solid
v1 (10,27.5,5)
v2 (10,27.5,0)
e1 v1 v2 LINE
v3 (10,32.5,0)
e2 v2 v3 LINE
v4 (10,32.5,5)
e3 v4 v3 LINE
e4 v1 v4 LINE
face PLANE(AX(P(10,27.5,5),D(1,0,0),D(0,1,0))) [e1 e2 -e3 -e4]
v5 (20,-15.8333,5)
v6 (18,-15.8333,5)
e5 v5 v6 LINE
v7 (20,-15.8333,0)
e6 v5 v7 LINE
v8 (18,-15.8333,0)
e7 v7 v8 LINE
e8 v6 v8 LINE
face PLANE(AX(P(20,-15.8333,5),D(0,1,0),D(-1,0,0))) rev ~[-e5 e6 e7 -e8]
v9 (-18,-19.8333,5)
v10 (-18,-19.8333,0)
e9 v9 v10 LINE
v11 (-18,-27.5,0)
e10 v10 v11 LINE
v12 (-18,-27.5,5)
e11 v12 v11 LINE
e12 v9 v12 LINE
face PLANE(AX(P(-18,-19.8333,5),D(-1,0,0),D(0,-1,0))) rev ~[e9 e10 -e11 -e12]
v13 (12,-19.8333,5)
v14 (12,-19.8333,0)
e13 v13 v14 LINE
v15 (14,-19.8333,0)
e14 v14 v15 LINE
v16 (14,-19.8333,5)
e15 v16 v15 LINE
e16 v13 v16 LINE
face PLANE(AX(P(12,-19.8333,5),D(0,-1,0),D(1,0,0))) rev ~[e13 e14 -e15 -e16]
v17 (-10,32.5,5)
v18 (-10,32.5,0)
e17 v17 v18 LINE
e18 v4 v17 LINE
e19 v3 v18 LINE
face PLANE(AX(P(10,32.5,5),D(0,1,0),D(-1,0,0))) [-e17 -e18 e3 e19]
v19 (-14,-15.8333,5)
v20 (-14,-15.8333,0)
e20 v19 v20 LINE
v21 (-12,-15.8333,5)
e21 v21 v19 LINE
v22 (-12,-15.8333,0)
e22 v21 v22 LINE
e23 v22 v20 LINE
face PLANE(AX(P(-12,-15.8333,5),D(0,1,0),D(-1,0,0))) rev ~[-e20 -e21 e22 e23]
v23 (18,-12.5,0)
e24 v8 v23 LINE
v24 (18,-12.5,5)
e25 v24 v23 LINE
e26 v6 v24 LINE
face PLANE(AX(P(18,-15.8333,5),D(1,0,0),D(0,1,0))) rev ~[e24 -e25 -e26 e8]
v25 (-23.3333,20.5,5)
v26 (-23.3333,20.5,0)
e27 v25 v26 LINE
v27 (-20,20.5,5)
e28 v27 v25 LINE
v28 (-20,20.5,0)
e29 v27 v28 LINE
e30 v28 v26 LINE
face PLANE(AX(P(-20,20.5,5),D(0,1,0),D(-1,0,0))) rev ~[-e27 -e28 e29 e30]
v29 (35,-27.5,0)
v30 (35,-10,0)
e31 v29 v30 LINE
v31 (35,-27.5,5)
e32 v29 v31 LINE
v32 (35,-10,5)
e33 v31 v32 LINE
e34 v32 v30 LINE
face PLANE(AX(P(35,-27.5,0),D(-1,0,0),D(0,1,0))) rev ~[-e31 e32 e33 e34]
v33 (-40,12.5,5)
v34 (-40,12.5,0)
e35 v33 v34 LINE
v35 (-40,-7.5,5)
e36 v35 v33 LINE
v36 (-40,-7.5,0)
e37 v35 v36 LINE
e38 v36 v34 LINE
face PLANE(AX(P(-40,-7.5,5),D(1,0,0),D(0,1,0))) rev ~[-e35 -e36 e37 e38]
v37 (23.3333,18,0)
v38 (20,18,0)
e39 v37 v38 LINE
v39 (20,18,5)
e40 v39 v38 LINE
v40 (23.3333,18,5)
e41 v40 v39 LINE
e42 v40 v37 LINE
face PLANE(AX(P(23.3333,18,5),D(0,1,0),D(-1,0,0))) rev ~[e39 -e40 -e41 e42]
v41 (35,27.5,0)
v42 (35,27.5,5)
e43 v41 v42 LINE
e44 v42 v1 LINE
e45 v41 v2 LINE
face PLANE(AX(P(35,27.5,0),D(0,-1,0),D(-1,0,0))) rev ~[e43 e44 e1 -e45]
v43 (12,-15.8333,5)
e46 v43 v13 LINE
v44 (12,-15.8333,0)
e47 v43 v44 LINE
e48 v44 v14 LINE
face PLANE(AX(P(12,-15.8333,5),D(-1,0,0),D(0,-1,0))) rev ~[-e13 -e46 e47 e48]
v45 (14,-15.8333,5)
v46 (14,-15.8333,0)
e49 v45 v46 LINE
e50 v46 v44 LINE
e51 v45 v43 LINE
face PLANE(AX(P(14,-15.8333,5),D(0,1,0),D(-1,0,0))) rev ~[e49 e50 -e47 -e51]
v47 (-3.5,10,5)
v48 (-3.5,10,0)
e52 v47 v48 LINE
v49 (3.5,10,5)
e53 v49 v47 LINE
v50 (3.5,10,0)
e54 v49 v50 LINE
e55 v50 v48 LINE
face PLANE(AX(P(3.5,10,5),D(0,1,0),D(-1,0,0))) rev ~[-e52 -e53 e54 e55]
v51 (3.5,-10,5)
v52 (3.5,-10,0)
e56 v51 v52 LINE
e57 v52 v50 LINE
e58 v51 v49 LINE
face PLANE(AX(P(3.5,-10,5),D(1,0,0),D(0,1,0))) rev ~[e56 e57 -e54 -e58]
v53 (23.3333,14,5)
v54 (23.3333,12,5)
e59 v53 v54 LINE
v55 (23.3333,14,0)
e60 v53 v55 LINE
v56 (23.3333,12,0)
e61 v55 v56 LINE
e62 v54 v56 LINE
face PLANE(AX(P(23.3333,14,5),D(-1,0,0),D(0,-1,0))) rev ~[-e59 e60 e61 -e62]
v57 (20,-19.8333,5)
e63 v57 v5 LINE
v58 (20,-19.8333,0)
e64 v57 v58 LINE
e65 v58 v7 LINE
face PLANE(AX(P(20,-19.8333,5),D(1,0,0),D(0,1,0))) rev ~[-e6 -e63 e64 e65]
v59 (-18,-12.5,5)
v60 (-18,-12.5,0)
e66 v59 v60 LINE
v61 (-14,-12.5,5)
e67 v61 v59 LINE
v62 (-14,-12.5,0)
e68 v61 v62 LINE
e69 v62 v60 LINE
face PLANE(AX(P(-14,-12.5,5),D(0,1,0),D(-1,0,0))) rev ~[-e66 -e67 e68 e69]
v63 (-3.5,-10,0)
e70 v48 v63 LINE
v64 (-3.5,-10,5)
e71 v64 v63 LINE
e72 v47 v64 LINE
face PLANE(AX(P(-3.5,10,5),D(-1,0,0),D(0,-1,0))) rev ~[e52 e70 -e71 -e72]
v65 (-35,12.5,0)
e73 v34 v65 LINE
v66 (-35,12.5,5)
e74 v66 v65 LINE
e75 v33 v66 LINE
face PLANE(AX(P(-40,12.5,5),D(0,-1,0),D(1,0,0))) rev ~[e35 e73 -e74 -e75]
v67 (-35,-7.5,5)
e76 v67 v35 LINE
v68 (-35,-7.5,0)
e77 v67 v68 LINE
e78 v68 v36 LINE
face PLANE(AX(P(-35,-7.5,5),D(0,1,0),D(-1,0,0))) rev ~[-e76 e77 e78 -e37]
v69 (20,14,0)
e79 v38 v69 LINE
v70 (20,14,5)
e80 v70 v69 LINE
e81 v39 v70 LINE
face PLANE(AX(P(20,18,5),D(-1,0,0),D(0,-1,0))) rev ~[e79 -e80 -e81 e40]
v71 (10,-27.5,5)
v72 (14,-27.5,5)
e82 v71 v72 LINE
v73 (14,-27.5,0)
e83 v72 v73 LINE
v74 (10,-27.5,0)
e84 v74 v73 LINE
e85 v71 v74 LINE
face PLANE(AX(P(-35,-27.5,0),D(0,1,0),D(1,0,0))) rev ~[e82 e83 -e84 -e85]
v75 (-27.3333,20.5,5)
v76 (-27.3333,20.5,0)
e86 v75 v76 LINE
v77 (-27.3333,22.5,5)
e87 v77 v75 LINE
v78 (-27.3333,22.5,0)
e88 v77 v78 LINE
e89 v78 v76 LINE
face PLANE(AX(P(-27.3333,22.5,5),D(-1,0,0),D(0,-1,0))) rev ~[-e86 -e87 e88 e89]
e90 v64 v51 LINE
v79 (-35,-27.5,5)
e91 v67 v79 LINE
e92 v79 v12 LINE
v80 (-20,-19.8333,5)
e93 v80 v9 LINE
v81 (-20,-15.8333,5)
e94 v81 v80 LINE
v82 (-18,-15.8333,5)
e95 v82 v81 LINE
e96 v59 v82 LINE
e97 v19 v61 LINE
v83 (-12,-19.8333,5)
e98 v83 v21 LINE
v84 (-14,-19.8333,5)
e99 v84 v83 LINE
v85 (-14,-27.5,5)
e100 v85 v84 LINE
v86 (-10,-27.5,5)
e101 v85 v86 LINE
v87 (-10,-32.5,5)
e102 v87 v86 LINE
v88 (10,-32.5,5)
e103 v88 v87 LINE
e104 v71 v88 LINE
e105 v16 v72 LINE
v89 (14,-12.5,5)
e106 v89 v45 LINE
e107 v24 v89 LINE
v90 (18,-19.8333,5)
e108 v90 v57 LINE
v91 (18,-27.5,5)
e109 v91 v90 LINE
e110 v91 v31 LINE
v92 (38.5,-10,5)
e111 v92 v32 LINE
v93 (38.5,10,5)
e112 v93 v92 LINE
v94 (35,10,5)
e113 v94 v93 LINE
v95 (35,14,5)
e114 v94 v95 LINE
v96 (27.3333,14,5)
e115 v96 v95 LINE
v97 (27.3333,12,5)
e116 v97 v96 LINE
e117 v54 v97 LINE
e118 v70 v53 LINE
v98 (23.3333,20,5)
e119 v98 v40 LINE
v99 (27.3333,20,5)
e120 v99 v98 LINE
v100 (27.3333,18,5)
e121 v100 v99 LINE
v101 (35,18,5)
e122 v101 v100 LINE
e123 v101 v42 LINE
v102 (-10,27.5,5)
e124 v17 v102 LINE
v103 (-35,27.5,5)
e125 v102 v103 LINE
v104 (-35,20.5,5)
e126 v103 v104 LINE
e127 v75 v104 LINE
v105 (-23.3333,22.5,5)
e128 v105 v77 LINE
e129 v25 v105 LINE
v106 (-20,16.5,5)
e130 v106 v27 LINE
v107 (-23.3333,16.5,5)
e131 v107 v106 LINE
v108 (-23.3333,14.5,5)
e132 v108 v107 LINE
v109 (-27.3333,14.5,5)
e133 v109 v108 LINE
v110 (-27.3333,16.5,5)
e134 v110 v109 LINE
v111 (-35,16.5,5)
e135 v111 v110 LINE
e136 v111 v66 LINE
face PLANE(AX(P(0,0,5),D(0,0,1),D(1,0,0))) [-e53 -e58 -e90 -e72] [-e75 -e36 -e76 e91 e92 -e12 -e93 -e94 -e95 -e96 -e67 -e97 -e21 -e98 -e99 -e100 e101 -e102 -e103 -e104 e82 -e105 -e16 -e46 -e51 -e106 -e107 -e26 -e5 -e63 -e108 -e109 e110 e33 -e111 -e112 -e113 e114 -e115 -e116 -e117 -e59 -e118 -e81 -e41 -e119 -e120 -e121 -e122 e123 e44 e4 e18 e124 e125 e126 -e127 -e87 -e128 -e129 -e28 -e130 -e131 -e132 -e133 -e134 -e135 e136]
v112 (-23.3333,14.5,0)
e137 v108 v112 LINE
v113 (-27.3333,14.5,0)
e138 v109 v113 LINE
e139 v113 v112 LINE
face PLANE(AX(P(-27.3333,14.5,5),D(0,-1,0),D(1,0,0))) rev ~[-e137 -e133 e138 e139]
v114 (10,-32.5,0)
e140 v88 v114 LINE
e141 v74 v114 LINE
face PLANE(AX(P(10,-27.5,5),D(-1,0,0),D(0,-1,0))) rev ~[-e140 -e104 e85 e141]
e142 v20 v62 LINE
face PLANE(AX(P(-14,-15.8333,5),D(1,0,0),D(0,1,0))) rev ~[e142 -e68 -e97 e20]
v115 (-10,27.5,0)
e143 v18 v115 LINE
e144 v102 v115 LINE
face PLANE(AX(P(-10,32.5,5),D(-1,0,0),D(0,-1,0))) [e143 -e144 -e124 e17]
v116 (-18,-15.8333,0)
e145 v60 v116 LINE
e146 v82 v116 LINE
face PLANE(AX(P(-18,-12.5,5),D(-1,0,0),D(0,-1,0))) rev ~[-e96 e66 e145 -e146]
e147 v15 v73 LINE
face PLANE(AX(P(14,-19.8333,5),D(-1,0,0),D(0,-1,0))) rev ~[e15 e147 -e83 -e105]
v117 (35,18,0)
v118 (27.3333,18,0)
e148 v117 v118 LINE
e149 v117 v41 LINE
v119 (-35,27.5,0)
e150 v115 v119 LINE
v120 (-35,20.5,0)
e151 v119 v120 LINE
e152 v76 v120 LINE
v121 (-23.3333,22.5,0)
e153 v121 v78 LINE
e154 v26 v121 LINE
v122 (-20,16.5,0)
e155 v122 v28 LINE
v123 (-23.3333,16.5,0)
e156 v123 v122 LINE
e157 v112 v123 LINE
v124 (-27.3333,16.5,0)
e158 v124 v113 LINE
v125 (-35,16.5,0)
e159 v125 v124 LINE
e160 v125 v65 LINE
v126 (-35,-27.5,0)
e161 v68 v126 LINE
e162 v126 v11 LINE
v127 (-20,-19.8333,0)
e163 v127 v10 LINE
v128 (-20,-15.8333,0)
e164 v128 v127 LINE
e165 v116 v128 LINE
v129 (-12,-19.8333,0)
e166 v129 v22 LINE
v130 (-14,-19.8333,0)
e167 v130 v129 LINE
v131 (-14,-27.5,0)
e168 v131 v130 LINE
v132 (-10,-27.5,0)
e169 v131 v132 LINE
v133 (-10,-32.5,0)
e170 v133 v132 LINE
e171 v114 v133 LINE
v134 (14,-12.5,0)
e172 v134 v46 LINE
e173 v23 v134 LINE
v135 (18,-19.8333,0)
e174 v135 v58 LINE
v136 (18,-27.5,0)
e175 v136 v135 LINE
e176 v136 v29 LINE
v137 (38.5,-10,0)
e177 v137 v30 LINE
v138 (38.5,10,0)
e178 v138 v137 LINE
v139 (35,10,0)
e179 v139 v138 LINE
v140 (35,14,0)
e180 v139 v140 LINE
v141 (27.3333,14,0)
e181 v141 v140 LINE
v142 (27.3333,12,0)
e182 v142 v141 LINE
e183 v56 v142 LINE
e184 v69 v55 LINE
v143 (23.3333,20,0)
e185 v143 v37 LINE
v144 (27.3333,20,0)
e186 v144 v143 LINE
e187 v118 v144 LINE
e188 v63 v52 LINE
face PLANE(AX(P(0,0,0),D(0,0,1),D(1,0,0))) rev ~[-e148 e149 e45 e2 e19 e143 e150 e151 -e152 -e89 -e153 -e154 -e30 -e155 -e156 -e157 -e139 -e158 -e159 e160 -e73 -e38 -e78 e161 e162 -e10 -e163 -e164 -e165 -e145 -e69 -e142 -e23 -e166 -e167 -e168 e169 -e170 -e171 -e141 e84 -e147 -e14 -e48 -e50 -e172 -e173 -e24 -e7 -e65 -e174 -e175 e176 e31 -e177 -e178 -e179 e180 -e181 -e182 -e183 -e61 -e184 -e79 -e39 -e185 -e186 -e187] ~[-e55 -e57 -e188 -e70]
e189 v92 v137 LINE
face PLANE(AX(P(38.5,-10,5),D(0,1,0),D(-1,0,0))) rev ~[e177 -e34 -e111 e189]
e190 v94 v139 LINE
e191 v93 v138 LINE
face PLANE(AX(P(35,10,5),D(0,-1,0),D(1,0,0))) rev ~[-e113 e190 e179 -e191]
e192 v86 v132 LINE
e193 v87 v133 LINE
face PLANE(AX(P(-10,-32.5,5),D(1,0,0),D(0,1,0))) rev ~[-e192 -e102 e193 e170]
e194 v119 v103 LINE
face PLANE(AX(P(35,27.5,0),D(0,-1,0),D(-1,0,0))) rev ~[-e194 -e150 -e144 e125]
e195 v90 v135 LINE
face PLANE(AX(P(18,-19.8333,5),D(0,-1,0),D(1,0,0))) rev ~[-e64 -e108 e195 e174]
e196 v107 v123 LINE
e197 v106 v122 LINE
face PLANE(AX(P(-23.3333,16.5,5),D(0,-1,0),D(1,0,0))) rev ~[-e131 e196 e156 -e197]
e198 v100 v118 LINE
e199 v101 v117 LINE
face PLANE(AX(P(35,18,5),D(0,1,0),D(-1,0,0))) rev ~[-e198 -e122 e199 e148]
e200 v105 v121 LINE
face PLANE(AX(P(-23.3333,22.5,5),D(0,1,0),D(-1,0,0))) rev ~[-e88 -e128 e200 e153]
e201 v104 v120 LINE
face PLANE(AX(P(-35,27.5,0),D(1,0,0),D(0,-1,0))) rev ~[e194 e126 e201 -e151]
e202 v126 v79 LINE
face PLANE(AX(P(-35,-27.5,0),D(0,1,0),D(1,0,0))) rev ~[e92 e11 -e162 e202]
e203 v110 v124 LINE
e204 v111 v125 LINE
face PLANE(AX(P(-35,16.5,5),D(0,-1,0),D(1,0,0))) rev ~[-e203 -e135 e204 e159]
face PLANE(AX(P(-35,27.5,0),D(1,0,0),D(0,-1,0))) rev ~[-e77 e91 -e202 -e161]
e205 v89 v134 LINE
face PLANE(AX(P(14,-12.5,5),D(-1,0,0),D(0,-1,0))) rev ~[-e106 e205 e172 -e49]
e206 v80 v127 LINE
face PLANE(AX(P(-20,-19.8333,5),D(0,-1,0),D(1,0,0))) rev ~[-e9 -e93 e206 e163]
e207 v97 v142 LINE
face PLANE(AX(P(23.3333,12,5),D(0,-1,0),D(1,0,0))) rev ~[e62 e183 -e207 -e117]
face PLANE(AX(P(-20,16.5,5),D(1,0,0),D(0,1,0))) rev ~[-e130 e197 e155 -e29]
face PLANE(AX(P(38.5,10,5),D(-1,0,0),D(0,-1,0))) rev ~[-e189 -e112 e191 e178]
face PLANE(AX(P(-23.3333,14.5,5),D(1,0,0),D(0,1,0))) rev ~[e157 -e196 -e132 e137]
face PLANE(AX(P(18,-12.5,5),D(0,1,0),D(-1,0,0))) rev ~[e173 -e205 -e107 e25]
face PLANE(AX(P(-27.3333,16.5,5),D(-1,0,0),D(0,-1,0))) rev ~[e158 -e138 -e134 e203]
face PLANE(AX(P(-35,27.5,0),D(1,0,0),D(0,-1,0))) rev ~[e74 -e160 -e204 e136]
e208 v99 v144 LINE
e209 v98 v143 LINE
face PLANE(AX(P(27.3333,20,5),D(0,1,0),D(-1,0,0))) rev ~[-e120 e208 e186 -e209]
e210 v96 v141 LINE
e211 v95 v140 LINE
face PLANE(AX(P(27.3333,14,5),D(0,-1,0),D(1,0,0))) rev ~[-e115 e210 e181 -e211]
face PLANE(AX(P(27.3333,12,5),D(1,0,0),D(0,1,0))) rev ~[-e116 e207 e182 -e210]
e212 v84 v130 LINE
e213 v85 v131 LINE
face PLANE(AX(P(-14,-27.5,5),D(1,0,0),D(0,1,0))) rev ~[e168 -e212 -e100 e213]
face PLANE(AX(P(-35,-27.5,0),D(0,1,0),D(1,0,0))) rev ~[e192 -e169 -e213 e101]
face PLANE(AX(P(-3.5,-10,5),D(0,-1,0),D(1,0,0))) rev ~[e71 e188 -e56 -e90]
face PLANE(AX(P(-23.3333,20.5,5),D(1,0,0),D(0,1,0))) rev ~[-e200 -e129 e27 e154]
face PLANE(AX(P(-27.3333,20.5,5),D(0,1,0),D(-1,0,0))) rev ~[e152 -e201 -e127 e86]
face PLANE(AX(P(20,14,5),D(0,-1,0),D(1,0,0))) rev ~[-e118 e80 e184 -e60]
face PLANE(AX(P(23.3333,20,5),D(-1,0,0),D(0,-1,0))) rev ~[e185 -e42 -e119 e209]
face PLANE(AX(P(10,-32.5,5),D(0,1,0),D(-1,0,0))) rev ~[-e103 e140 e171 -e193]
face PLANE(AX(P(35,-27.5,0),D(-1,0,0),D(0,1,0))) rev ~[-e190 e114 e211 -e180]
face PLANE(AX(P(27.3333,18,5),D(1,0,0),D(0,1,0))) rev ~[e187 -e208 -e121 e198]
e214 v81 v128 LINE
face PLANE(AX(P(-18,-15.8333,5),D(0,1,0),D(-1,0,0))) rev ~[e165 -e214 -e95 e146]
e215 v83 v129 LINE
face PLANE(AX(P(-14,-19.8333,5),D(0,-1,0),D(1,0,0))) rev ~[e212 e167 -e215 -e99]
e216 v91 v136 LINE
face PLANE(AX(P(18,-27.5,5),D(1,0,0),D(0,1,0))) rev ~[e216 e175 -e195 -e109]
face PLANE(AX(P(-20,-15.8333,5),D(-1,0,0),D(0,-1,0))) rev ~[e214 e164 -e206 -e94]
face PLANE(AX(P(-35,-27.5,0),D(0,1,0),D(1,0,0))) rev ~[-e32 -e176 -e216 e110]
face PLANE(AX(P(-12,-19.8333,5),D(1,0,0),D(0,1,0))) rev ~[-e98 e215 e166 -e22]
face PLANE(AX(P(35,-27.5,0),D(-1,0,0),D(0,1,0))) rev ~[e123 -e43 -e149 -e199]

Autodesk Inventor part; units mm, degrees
ref_plane "YZ Plane" through (0, 0, 0) normal (1, 0, 0) x (0, 1, 0)
ref_plane "XZ Plane" through (0, 0, 0) normal (0, 1, 0) x (-1, 0, 0)
ref_plane "XY Plane" through (0, 0, 0) normal (0, 0, 1) x (1, 0, 0)
sketch "Sketch1" plane through (0, 0, 0) normal (0, 0, 1) x (1, 0, 0)
  line L0 (-35, -27.5) -> (35, -27.5)
  line L1 (35, -27.5) -> (35, 27.5)
  line L2 (35, 27.5) -> (-35, 27.5)
  line L3 (-35, 27.5) -> (-35, -27.5)
  line L4 (-35, -27.5) -> (35, 27.5) construction
  line L5 (35, -27.5) -> (-35, 27.5) construction
  point P0 (0, 0)
  dimension "d0" = 70
  dimension "d1" = 55
extrude "Extrusion1" add sketch "Sketch1" along normal blind 5
sketch "Sketch2" plane through (0, 0, 5) normal (0, 0, 1) x (1, 0, 0)
  line L0 (-35, -27.5) -> (35, -27.5) construction
  line L1 (35, -27.5) -> (35, 27.5) construction
  line L2 (35, 27.5) -> (-35, 27.5) construction
  line L3 (-35, 27.5) -> (-35, -27.5) construction
  line L4 (-10, -27.5) -> (10, -27.5)
  line L5 (10, -27.5) -> (10, -32.5)
  line L6 (10, -32.5) -> (-10, -32.5)
  line L7 (-10, -32.5) -> (-10, -27.5)
  line L8 (-35, -7.5) -> (-40, -7.5)
  line L9 (-40, -7.5) -> (-40, 12.5)
  line L10 (-40, 12.5) -> (-35, 12.5)
  line L11 (-35, 12.5) -> (-35, -7.5)
  line L12 (35, 27.5) -> (-35, 27.5) construction
  line L13 (-10, 27.5) -> (10, 27.5)
  line L14 (10, 27.5) -> (10, 32.5)
  line L15 (10, 32.5) -> (-10, 32.5)
  line L16 (-10, 32.5) -> (-10, 27.5)
  line L17 (35, 18) -> (35, 14) construction
  line L18 (35, 14) -> (20, 14) construction
  line L19 (20, 14) -> (20, 18) construction
  line L20 (20, 18) -> (35, 18) construction
  line L21 (35, 16) -> (20, 16) construction
  line L22 (23.3333, 20) -> (23.3333, 12) construction
  line L23 (23.3333, 12) -> (27.3333, 12) construction
  line L24 (27.3333, 12) -> (27.3333, 20) construction
  line L25 (27.3333, 20) -> (23.3333, 20) construction
  line L26 (23.3333, 20) -> (27.3333, 12) construction
  line L27 (23.3333, 12) -> (27.3333, 20) construction
  line L28 (35, 18) -> (27.3333, 18)
  line L29 (27.3333, 18) -> (27.3333, 20)
  line L30 (27.3333, 20) -> (23.3333, 20)
  line L31 (23.3333, 20) -> (23.3333, 18)
  line L32 (23.3333, 18) -> (20, 18)
  line L33 (20, 18) -> (20, 14)
  line L34 (20, 14) -> (23.3333, 14)
  line L35 (23.3333, 14) -> (23.3333, 12)
  line L36 (23.3333, 12) -> (27.3333, 12)
  line L37 (27.3333, 12) -> (27.3333, 14)
  line L38 (27.3333, 14) -> (35, 14)
  line L39 (35, 14) -> (35, 18)
  line L40 (-35, 16.5) -> (-35, 20.5) construction
  line L41 (-35, 20.5) -> (-20, 20.5) construction
  line L42 (-20, 20.5) -> (-20, 16.5) construction
  line L43 (-20, 16.5) -> (-35, 16.5) construction
  line L44 (-35, 18.5) -> (-20, 18.5) construction
  line L45 (-23.3333, 14.5) -> (-23.3333, 22.5) construction
  line L46 (-23.3333, 22.5) -> (-27.3333, 22.5) construction
  line L47 (-27.3333, 22.5) -> (-27.3333, 14.5) construction
  line L48 (-27.3333, 14.5) -> (-23.3333, 14.5) construction
  line L49 (-23.3333, 14.5) -> (-27.3333, 22.5) construction
  line L50 (-23.3333, 22.5) -> (-27.3333, 14.5) construction
  line L51 (-35, 16.5) -> (-27.3333, 16.5)
  line L52 (-27.3333, 16.5) -> (-27.3333, 14.5)
  line L53 (-27.3333, 14.5) -> (-23.3333, 14.5)
  line L54 (-23.3333, 14.5) -> (-23.3333, 16.5)
  line L55 (-23.3333, 16.5) -> (-20, 16.5)
  line L56 (-20, 16.5) -> (-20, 20.5)
  line L57 (-20, 20.5) -> (-23.3333, 20.5)
  line L58 (-23.3333, 20.5) -> (-23.3333, 22.5)
  line L59 (-23.3333, 22.5) -> (-27.3333, 22.5)
  line L60 (-27.3333, 22.5) -> (-27.3333, 20.5)
  line L61 (-27.3333, 20.5) -> (-35, 20.5)
  line L62 (-35, 20.5) -> (-35, 16.5)
  line L63 (-14, -27.5) -> (-18, -27.5) construction
  line L64 (-18, -27.5) -> (-18, -12.5) construction
  line L65 (-18, -12.5) -> (-14, -12.5) construction
  line L66 (-14, -12.5) -> (-14, -27.5) construction
  line L67 (-16, -27.5) -> (-16, -12.5) construction
  line L68 (-12, -15.8333) -> (-20, -15.8333) construction
  line L69 (-20, -15.8333) -> (-20, -19.8333) construction
  line L70 (-20, -19.8333) -> (-12, -19.8333) construction
  line L71 (-12, -19.8333) -> (-12, -15.8333) construction
  line L72 (-12, -15.8333) -> (-20, -19.8333) construction
  line L73 (-20, -15.8333) -> (-12, -19.8333) construction
  line L74 (-14, -27.5) -> (-14, -19.8333)
  line L75 (-14, -19.8333) -> (-12, -19.8333)
  line L76 (-12, -19.8333) -> (-12, -15.8333)
  line L77 (-12, -15.8333) -> (-14, -15.8333)
  line L78 (-14, -15.8333) -> (-14, -12.5)
  line L79 (-14, -12.5) -> (-18, -12.5)
  line L80 (-18, -12.5) -> (-18, -15.8333)
  line L81 (-18, -15.8333) -> (-20, -15.8333)
  line L82 (-20, -15.8333) -> (-20, -19.8333)
  line L83 (-20, -19.8333) -> (-18, -19.8333)
  line L84 (-18, -19.8333) -> (-18, -27.5)
  line L85 (-18, -27.5) -> (-14, -27.5)
  line L86 (18, -27.5) -> (14, -27.5) construction
  line L87 (14, -27.5) -> (14, -12.5) construction
  line L88 (14, -12.5) -> (18, -12.5) construction
  line L89 (18, -12.5) -> (18, -27.5) construction
  line L90 (16, -27.5) -> (16, -12.5) construction
  line L91 (20, -15.8333) -> (12, -15.8333) construction
  line L92 (12, -15.8333) -> (12, -19.8333) construction
  line L93 (12, -19.8333) -> (20, -19.8333) construction
  line L94 (20, -19.8333) -> (20, -15.8333) construction
  line L95 (20, -15.8333) -> (12, -19.8333) construction
  line L96 (12, -15.8333) -> (20, -19.8333) construction
  line L97 (18, -27.5) -> (18, -19.8333)
  line L98 (18, -19.8333) -> (20, -19.8333)
  line L99 (20, -19.8333) -> (20, -15.8333)
  line L100 (20, -15.8333) -> (18, -15.8333)
  line L101 (18, -15.8333) -> (18, -12.5)
  line L102 (18, -12.5) -> (14, -12.5)
  line L103 (14, -12.5) -> (14, -15.8333)
  line L104 (14, -15.8333) -> (12, -15.8333)
  line L105 (12, -15.8333) -> (12, -19.8333)
  line L106 (12, -19.8333) -> (14, -19.8333)
  line L107 (14, -19.8333) -> (14, -27.5)
  line L108 (14, -27.5) -> (18, -27.5)
  line L109 (35, -27.5) -> (35, 27.5) construction
  line L110 (35, 10) -> (38.5, 10)
  line L111 (38.5, 10) -> (38.5, -10)
  line L112 (38.5, -10) -> (35, -10)
  line L113 (35, -10) -> (35, 10)
  point P0 (0, 0)
  point P1 (25.3333, 16)
  point P2 (-25.3333, 18.5)
  point P3 (-16, -17.8333)
  point P4 (16, -17.8333)
  dimension "d4" = 20
  dimension "d5" = 5
  dimension "d6" = 25
  dimension "d7" = 5
  dimension "d8" = 20
  dimension "d9" = 20
  dimension "d10" = 20
  dimension "d11" = 5
  dimension "d12" = 25
  dimension "d13" = 4
  dimension "d14" = 15
  dimension "d15" = 8
  dimension "d16" = 4
  dimension "d22" = 4
  dimension "d23" = 15
  dimension "d24" = 8
  dimension "d25" = 4
  dimension "d26" = 4
  dimension "d28" = 4
  dimension "d29" = 15
  dimension "d30" = 8
  dimension "d31" = 4
  dimension "d32" = 4
  dimension "d33" = 15
  dimension "d34" = 8
  dimension "d35" = 4
  dimension "d36" = 8
  dimension "d37" = 4
  dimension "d38" = 3.5
  dimension "d39" = 20
  dimension "d40" = 17.5
  dimension "d41" = 4
extrude "Extrusion2" add sketch "Sketch2" against normal blind 5 contours L4 L5 L6 L7 | L8 L9 L10 L11 | L16 L15 L14 L13 | L110 L111 L112 L113
sketch "Sketch3" plane through (0, 0, 5) normal (0, 0, 1) x (1, 0, 0)
  line L0 (-35, -27.5) -> (35, -27.5) construction
  line L1 (35, -27.5) -> (35, 27.5) construction
  line L2 (35, 27.5) -> (-35, 27.5) construction
  line L3 (-35, 27.5) -> (-35, -27.5) construction
  line L4 (-10, -27.5) -> (10, -27.5)
  line L5 (10, -27.5) -> (10, -32.5)
  line L6 (10, -32.5) -> (-10, -32.5)
  line L7 (-10, -32.5) -> (-10, -27.5)
  line L8 (-35, -7.5) -> (-40, -7.5)
  line L9 (-40, -7.5) -> (-40, 12.5)
  line L10 (-40, 12.5) -> (-35, 12.5)
  line L11 (-35, 12.5) -> (-35, -7.5)
  line L12 (35, 27.5) -> (-35, 27.5) construction
  line L13 (-15, 27.5) -> (10, 27.5)
  line L14 (10, 27.5) -> (10, 32.5)
  line L15 (10, 32.5) -> (-15, 32.5)
  line L16 (-15, 32.5) -> (-15, 27.5)
  line L17 (35, 18) -> (35, 14) construction
  line L18 (35, 14) -> (20, 14) construction
  line L19 (20, 14) -> (20, 18) construction
  line L20 (20, 18) -> (35, 18) construction
  line L21 (35, 16) -> (20, 16) construction
  line L22 (23.3333, 20) -> (23.3333, 12) construction
  line L23 (23.3333, 12) -> (27.3333, 12) construction
  line L24 (27.3333, 12) -> (27.3333, 20) construction
  line L25 (27.3333, 20) -> (23.3333, 20) construction
  line L26 (23.3333, 20) -> (27.3333, 12) construction
  line L27 (23.3333, 12) -> (27.3333, 20) construction
  line L28 (35, 18) -> (27.3333, 18)
  line L29 (27.3333, 18) -> (27.3333, 20)
  line L30 (27.3333, 20) -> (23.3333, 20)
  line L31 (23.3333, 20) -> (23.3333, 18)
  line L32 (23.3333, 18) -> (20, 18)
  line L33 (20, 18) -> (20, 14)
  line L34 (20, 14) -> (23.3333, 14)
  line L35 (23.3333, 14) -> (23.3333, 12)
  line L36 (23.3333, 12) -> (27.3333, 12)
  line L37 (27.3333, 12) -> (27.3333, 14)
  line L38 (27.3333, 14) -> (35, 14)
  line L39 (35, 14) -> (35, 18)
  line L40 (-27.3333, 14.5) -> (-23.3333, 14.5) construction
  line L41 (-27.3333, 14.5) -> (-23.3333, 14.5)
  line L42 (-23.3333, 14.5) -> (-23.3333, 16.5)
  line L43 (-27.3333, 22.5) -> (-27.3333, 14.5) construction
  line L44 (-23.3333, 14.5) -> (-23.3333, 22.5) construction
  line L45 (-23.3333, 14.5) -> (-27.3333, 22.5) construction
  line L46 (-23.3333, 22.5) -> (-27.3333, 14.5) construction
  line L47 (-23.3333, 16.5) -> (-20, 16.5)
  line L48 (-35, 16.5) -> (-27.3333, 16.5)
  line L49 (-27.3333, 22.5) -> (-27.3333, 20.5)
  line L50 (-23.3333, 20.5) -> (-23.3333, 22.5)
  line L51 (-23.3333, 22.5) -> (-27.3333, 22.5) construction
  line L52 (-23.3333, 22.5) -> (-27.3333, 22.5)
  line L53 (-35, 16.5) -> (-35, 20.5) construction
  line L54 (-35, 20.5) -> (-35, 16.5)
  line L55 (-27.3333, 20.5) -> (-35, 20.5)
  line L56 (-20, 16.5) -> (-35, 16.5) construction
  line L57 (-35, 18.5) -> (-20, 18.5) construction
  line L58 (-35, 20.5) -> (-20, 20.5) construction
  line L59 (-27.3333, 16.5) -> (-27.3333, 14.5)
  line L60 (-20, 20.5) -> (-20, 16.5) construction
  line L61 (-20, 16.5) -> (-20, 20.5)
  line L62 (-20, 20.5) -> (-23.3333, 20.5)
  line L63 (-14, -27.5) -> (-18, -27.5) construction
  line L64 (-18, -27.5) -> (-18, -12.5) construction
  line L65 (-14, -12.5) -> (-14, -27.5) construction
  line L66 (-16, -27.5) -> (-16, -12.5) construction
  line L67 (-18, -19.8333) -> (-18, -27.5)
  line L68 (-14, -27.5) -> (-14, -19.8333)
  line L69 (-18, -27.5) -> (-14, -27.5)
  line L70 (-20, -19.8333) -> (-12, -19.8333) construction
  line L71 (-20, -19.8333) -> (-18, -19.8333)
  line L72 (-14, -19.8333) -> (-12, -19.8333)
  line L73 (-12, -15.8333) -> (-20, -19.8333) construction
  line L74 (-12, -19.8333) -> (-12, -15.8333) construction
  line L75 (-12, -19.8333) -> (-12, -15.8333)
  line L76 (-20, -15.8333) -> (-12, -19.8333) construction
  line L77 (-12, -15.8333) -> (-14, -15.8333)
  line L78 (-12, -15.8333) -> (-20, -15.8333) construction
  line L79 (-20, -15.8333) -> (-20, -19.8333)
  line L80 (-18, -15.8333) -> (-20, -15.8333)
  line L81 (-14, -15.8333) -> (-14, -12.5)
  line L82 (-18, -12.5) -> (-14, -12.5) construction
  line L83 (-14, -12.5) -> (-18, -12.5)
  line L84 (-18, -12.5) -> (-18, -15.8333)
  line L85 (-20, -15.8333) -> (-20, -19.8333) construction
  line L86 (18, -27.5) -> (14, -27.5) construction
  line L87 (14, -27.5) -> (14, -12.5) construction
  line L88 (18, -12.5) -> (18, -27.5) construction
  line L89 (16, -27.5) -> (16, -12.5) construction
  line L90 (14, -19.8333) -> (14, -27.5)
  line L91 (18, -27.5) -> (18, -19.8333)
  line L92 (14, -27.5) -> (18, -27.5)
  line L93 (12, -19.8333) -> (20, -19.8333) construction
  line L94 (12, -19.8333) -> (14, -19.8333)
  line L95 (18, -19.8333) -> (20, -19.8333)
  line L96 (20, -15.8333) -> (12, -19.8333) construction
  line L97 (20, -19.8333) -> (20, -15.8333) construction
  line L98 (20, -19.8333) -> (20, -15.8333)
  line L99 (12, -15.8333) -> (20, -19.8333) construction
  line L100 (20, -15.8333) -> (18, -15.8333)
  line L101 (20, -15.8333) -> (12, -15.8333) construction
  line L102 (12, -15.8333) -> (12, -19.8333)
  line L103 (14, -15.8333) -> (12, -15.8333)
  line L104 (18, -15.8333) -> (18, -12.5)
  line L105 (14, -12.5) -> (18, -12.5) construction
  line L106 (18, -12.5) -> (14, -12.5)
  line L107 (14, -12.5) -> (14, -15.8333)
  line L108 (12, -15.8333) -> (12, -19.8333) construction
  line L109 (35, -27.5) -> (35, 27.5) construction
  line L110 (35, 10) -> (40, 10)
  line L111 (40, 10) -> (40, -10)
  line L112 (40, -10) -> (35, -10)
  line L113 (35, -10) -> (35, 10)
  point P0 (0, 0)
  point P1 (0, 0)
  point P2 (25.3333, 16)
  point P3 (-25.3333, 18.5)
  point P4 (-16, -17.8333)
  point P5 (16, -17.8333)
  dimension "d44" = 20
  dimension "d45" = 5
  dimension "d46" = 25
  dimension "d47" = 5
  dimension "d48" = 20
  dimension "d49" = 20
  dimension "d50" = 25
  dimension "d51" = 5
  dimension "d52" = 20
  dimension "d53" = 4
  dimension "d54" = 15
  dimension "d55" = 8
  dimension "d56" = 4
  dimension "d57" = 4
  dimension "d58" = 15
  dimension "d59" = 8
  dimension "d60" = 4
  dimension "d61" = 4
  dimension "d62" = 4
  dimension "d63" = 15
  dimension "d64" = 8
  dimension "d65" = 4
  dimension "d66" = 4
  dimension "d67" = 15
  dimension "d68" = 8
  dimension "d69" = 4
  dimension "d70" = 8
  dimension "d71" = 4
  dimension "d72" = 5
  dimension "d73" = 20
  dimension "d74" = 17.5
  dimension "d75" = 4
extrude "Extrusion3" cut sketch "Sketch3" against normal blind 5 contours L39 L38 L37 L36 L35 L34 L33 L32 L31 L30 L29 L28 | L59 L48 L54 L55 L49 L52 L50 L62 L61 L47 L42 L41 | L71 L79 L80 L84 L83 L81 L77 L75 L72 L68 L69 L67 | L94 L102 L103 L107 L106 L104 L100 L98 L95 L91 L92 L90
sketch "Sketch4" plane through (0, 0, 5) normal (0, 0, 1) x (1, 0, 0)
  line L0 (-14, -19.8333) -> (-14, -27.5) construction
  line L1 (-14, -27.5) -> (-10, -27.5) construction
  line L2 (-10, -32.5) -> (-10, -27.5) construction
  line L3 (10, -32.5) -> (-10, -32.5) construction
  line L4 (10, -27.5) -> (10, -32.5) construction
  line L5 (10, -27.5) -> (14, -27.5) construction
  line L6 (14, -27.5) -> (14, -19.8333) construction
  line L7 (14, -19.8333) -> (12, -19.8333) construction
  line L8 (12, -19.8333) -> (12, -15.8333) construction
  line L9 (12, -15.8333) -> (14, -15.8333) construction
  line L10 (14, -15.8333) -> (14, -12.5) construction
  line L11 (14, -12.5) -> (18, -12.5) construction
  line L12 (18, -12.5) -> (18, -15.8333) construction
  line L13 (18, -15.8333) -> (20, -15.8333) construction
  line L14 (20, -15.8333) -> (20, -19.8333) construction
  line L15 (20, -19.8333) -> (18, -19.8333) construction
  line L16 (18, -19.8333) -> (18, -27.5) construction
  line L17 (18, -27.5) -> (35, -27.5) construction
  line L18 (35, -27.5) -> (35, -10) construction
  line L19 (38.5, -10) -> (35, -10) construction
  line L20 (38.5, 10) -> (38.5, -10) construction
  line L21 (35, 10) -> (38.5, 10) construction
  line L22 (35, 10) -> (35, 14) construction
  line L23 (35, 14) -> (27.3333, 14) construction
  line L24 (27.3333, 14) -> (27.3333, 12) construction
  line L25 (27.3333, 12) -> (23.3333, 12) construction
  line L26 (23.3333, 12) -> (23.3333, 14) construction
  line L27 (23.3333, 14) -> (20, 14) construction
  line L28 (20, 14) -> (20, 18) construction
  line L29 (20, 18) -> (23.3333, 18) construction
  line L30 (23.3333, 18) -> (23.3333, 20) construction
  line L31 (23.3333, 20) -> (27.3333, 20) construction
  line L32 (27.3333, 20) -> (27.3333, 18) construction
  line L33 (27.3333, 18) -> (35, 18) construction
  line L34 (35, 18) -> (35, 27.5) construction
  line L35 (35, 27.5) -> (10, 27.5) construction
  line L36 (10, 27.5) -> (10, 32.5) construction
  line L37 (10, 32.5) -> (-10, 32.5) construction
  line L38 (-10, 32.5) -> (-10, 27.5) construction
  line L39 (-10, 27.5) -> (-35, 27.5) construction
  line L40 (-35, 27.5) -> (-35, 20.5) construction
  line L41 (-35, 20.5) -> (-27.3333, 20.5) construction
  line L42 (-27.3333, 20.5) -> (-27.3333, 22.5) construction
  line L43 (-27.3333, 22.5) -> (-23.3333, 22.5) construction
  line L44 (-23.3333, 22.5) -> (-23.3333, 20.5) construction
  line L45 (-23.3333, 20.5) -> (-20, 20.5) construction
  line L46 (-20, 20.5) -> (-20, 16.5) construction
  line L47 (-20, 16.5) -> (-23.3333, 16.5) construction
  line L48 (-23.3333, 16.5) -> (-23.3333, 14.5) construction
  line L49 (-23.3333, 14.5) -> (-27.3333, 14.5) construction
  line L50 (-27.3333, 14.5) -> (-27.3333, 16.5) construction
  line L51 (-27.3333, 16.5) -> (-35, 16.5) construction
  line L52 (-35, 16.5) -> (-35, 12.5) construction
  line L53 (-40, 12.5) -> (-35, 12.5) construction
  line L54 (-40, -7.5) -> (-40, 12.5) construction
  line L55 (-35, -7.5) -> (-40, -7.5) construction
  line L56 (-35, -7.5) -> (-35, -27.5) construction
  line L57 (-35, -27.5) -> (-18, -27.5) construction
  line L58 (-18, -27.5) -> (-18, -19.8333) construction
  line L59 (-18, -19.8333) -> (-20, -19.8333) construction
  line L60 (-20, -19.8333) -> (-20, -15.8333) construction
  line L61 (-20, -15.8333) -> (-18, -15.8333) construction
  line L62 (-18, -15.8333) -> (-18, -12.5) construction
  line L63 (-18, -12.5) -> (-14, -12.5) construction
  line L64 (-14, -12.5) -> (-14, -15.8333) construction
  line L65 (-14, -15.8333) -> (-12, -15.8333) construction
  line L66 (-12, -15.8333) -> (-12, -19.8333) construction
  line L67 (-12, -19.8333) -> (-14, -19.8333) construction
  line L68 (0, 32.5) -> (0, -32.5) construction
  line L69 (-40, 0) -> (38.5, 0) construction
  line L70 (-3.5, -10) -> (3.5, -10)
  line L71 (3.5, -10) -> (3.5, 10)
  line L72 (3.5, 10) -> (-3.5, 10)
  line L73 (-3.5, 10) -> (-3.5, -10)
  line L74 (-3.5, -10) -> (3.5, 10) construction
  line L75 (3.5, -10) -> (-3.5, 10) construction
  point P0 (0, 0)
  dimension "d80" = 7
  dimension "d81" = 20
extrude "Extrusion4" cut sketch "Sketch4" against normal blind 10
properties part number "Refuerzo_Conducto"
